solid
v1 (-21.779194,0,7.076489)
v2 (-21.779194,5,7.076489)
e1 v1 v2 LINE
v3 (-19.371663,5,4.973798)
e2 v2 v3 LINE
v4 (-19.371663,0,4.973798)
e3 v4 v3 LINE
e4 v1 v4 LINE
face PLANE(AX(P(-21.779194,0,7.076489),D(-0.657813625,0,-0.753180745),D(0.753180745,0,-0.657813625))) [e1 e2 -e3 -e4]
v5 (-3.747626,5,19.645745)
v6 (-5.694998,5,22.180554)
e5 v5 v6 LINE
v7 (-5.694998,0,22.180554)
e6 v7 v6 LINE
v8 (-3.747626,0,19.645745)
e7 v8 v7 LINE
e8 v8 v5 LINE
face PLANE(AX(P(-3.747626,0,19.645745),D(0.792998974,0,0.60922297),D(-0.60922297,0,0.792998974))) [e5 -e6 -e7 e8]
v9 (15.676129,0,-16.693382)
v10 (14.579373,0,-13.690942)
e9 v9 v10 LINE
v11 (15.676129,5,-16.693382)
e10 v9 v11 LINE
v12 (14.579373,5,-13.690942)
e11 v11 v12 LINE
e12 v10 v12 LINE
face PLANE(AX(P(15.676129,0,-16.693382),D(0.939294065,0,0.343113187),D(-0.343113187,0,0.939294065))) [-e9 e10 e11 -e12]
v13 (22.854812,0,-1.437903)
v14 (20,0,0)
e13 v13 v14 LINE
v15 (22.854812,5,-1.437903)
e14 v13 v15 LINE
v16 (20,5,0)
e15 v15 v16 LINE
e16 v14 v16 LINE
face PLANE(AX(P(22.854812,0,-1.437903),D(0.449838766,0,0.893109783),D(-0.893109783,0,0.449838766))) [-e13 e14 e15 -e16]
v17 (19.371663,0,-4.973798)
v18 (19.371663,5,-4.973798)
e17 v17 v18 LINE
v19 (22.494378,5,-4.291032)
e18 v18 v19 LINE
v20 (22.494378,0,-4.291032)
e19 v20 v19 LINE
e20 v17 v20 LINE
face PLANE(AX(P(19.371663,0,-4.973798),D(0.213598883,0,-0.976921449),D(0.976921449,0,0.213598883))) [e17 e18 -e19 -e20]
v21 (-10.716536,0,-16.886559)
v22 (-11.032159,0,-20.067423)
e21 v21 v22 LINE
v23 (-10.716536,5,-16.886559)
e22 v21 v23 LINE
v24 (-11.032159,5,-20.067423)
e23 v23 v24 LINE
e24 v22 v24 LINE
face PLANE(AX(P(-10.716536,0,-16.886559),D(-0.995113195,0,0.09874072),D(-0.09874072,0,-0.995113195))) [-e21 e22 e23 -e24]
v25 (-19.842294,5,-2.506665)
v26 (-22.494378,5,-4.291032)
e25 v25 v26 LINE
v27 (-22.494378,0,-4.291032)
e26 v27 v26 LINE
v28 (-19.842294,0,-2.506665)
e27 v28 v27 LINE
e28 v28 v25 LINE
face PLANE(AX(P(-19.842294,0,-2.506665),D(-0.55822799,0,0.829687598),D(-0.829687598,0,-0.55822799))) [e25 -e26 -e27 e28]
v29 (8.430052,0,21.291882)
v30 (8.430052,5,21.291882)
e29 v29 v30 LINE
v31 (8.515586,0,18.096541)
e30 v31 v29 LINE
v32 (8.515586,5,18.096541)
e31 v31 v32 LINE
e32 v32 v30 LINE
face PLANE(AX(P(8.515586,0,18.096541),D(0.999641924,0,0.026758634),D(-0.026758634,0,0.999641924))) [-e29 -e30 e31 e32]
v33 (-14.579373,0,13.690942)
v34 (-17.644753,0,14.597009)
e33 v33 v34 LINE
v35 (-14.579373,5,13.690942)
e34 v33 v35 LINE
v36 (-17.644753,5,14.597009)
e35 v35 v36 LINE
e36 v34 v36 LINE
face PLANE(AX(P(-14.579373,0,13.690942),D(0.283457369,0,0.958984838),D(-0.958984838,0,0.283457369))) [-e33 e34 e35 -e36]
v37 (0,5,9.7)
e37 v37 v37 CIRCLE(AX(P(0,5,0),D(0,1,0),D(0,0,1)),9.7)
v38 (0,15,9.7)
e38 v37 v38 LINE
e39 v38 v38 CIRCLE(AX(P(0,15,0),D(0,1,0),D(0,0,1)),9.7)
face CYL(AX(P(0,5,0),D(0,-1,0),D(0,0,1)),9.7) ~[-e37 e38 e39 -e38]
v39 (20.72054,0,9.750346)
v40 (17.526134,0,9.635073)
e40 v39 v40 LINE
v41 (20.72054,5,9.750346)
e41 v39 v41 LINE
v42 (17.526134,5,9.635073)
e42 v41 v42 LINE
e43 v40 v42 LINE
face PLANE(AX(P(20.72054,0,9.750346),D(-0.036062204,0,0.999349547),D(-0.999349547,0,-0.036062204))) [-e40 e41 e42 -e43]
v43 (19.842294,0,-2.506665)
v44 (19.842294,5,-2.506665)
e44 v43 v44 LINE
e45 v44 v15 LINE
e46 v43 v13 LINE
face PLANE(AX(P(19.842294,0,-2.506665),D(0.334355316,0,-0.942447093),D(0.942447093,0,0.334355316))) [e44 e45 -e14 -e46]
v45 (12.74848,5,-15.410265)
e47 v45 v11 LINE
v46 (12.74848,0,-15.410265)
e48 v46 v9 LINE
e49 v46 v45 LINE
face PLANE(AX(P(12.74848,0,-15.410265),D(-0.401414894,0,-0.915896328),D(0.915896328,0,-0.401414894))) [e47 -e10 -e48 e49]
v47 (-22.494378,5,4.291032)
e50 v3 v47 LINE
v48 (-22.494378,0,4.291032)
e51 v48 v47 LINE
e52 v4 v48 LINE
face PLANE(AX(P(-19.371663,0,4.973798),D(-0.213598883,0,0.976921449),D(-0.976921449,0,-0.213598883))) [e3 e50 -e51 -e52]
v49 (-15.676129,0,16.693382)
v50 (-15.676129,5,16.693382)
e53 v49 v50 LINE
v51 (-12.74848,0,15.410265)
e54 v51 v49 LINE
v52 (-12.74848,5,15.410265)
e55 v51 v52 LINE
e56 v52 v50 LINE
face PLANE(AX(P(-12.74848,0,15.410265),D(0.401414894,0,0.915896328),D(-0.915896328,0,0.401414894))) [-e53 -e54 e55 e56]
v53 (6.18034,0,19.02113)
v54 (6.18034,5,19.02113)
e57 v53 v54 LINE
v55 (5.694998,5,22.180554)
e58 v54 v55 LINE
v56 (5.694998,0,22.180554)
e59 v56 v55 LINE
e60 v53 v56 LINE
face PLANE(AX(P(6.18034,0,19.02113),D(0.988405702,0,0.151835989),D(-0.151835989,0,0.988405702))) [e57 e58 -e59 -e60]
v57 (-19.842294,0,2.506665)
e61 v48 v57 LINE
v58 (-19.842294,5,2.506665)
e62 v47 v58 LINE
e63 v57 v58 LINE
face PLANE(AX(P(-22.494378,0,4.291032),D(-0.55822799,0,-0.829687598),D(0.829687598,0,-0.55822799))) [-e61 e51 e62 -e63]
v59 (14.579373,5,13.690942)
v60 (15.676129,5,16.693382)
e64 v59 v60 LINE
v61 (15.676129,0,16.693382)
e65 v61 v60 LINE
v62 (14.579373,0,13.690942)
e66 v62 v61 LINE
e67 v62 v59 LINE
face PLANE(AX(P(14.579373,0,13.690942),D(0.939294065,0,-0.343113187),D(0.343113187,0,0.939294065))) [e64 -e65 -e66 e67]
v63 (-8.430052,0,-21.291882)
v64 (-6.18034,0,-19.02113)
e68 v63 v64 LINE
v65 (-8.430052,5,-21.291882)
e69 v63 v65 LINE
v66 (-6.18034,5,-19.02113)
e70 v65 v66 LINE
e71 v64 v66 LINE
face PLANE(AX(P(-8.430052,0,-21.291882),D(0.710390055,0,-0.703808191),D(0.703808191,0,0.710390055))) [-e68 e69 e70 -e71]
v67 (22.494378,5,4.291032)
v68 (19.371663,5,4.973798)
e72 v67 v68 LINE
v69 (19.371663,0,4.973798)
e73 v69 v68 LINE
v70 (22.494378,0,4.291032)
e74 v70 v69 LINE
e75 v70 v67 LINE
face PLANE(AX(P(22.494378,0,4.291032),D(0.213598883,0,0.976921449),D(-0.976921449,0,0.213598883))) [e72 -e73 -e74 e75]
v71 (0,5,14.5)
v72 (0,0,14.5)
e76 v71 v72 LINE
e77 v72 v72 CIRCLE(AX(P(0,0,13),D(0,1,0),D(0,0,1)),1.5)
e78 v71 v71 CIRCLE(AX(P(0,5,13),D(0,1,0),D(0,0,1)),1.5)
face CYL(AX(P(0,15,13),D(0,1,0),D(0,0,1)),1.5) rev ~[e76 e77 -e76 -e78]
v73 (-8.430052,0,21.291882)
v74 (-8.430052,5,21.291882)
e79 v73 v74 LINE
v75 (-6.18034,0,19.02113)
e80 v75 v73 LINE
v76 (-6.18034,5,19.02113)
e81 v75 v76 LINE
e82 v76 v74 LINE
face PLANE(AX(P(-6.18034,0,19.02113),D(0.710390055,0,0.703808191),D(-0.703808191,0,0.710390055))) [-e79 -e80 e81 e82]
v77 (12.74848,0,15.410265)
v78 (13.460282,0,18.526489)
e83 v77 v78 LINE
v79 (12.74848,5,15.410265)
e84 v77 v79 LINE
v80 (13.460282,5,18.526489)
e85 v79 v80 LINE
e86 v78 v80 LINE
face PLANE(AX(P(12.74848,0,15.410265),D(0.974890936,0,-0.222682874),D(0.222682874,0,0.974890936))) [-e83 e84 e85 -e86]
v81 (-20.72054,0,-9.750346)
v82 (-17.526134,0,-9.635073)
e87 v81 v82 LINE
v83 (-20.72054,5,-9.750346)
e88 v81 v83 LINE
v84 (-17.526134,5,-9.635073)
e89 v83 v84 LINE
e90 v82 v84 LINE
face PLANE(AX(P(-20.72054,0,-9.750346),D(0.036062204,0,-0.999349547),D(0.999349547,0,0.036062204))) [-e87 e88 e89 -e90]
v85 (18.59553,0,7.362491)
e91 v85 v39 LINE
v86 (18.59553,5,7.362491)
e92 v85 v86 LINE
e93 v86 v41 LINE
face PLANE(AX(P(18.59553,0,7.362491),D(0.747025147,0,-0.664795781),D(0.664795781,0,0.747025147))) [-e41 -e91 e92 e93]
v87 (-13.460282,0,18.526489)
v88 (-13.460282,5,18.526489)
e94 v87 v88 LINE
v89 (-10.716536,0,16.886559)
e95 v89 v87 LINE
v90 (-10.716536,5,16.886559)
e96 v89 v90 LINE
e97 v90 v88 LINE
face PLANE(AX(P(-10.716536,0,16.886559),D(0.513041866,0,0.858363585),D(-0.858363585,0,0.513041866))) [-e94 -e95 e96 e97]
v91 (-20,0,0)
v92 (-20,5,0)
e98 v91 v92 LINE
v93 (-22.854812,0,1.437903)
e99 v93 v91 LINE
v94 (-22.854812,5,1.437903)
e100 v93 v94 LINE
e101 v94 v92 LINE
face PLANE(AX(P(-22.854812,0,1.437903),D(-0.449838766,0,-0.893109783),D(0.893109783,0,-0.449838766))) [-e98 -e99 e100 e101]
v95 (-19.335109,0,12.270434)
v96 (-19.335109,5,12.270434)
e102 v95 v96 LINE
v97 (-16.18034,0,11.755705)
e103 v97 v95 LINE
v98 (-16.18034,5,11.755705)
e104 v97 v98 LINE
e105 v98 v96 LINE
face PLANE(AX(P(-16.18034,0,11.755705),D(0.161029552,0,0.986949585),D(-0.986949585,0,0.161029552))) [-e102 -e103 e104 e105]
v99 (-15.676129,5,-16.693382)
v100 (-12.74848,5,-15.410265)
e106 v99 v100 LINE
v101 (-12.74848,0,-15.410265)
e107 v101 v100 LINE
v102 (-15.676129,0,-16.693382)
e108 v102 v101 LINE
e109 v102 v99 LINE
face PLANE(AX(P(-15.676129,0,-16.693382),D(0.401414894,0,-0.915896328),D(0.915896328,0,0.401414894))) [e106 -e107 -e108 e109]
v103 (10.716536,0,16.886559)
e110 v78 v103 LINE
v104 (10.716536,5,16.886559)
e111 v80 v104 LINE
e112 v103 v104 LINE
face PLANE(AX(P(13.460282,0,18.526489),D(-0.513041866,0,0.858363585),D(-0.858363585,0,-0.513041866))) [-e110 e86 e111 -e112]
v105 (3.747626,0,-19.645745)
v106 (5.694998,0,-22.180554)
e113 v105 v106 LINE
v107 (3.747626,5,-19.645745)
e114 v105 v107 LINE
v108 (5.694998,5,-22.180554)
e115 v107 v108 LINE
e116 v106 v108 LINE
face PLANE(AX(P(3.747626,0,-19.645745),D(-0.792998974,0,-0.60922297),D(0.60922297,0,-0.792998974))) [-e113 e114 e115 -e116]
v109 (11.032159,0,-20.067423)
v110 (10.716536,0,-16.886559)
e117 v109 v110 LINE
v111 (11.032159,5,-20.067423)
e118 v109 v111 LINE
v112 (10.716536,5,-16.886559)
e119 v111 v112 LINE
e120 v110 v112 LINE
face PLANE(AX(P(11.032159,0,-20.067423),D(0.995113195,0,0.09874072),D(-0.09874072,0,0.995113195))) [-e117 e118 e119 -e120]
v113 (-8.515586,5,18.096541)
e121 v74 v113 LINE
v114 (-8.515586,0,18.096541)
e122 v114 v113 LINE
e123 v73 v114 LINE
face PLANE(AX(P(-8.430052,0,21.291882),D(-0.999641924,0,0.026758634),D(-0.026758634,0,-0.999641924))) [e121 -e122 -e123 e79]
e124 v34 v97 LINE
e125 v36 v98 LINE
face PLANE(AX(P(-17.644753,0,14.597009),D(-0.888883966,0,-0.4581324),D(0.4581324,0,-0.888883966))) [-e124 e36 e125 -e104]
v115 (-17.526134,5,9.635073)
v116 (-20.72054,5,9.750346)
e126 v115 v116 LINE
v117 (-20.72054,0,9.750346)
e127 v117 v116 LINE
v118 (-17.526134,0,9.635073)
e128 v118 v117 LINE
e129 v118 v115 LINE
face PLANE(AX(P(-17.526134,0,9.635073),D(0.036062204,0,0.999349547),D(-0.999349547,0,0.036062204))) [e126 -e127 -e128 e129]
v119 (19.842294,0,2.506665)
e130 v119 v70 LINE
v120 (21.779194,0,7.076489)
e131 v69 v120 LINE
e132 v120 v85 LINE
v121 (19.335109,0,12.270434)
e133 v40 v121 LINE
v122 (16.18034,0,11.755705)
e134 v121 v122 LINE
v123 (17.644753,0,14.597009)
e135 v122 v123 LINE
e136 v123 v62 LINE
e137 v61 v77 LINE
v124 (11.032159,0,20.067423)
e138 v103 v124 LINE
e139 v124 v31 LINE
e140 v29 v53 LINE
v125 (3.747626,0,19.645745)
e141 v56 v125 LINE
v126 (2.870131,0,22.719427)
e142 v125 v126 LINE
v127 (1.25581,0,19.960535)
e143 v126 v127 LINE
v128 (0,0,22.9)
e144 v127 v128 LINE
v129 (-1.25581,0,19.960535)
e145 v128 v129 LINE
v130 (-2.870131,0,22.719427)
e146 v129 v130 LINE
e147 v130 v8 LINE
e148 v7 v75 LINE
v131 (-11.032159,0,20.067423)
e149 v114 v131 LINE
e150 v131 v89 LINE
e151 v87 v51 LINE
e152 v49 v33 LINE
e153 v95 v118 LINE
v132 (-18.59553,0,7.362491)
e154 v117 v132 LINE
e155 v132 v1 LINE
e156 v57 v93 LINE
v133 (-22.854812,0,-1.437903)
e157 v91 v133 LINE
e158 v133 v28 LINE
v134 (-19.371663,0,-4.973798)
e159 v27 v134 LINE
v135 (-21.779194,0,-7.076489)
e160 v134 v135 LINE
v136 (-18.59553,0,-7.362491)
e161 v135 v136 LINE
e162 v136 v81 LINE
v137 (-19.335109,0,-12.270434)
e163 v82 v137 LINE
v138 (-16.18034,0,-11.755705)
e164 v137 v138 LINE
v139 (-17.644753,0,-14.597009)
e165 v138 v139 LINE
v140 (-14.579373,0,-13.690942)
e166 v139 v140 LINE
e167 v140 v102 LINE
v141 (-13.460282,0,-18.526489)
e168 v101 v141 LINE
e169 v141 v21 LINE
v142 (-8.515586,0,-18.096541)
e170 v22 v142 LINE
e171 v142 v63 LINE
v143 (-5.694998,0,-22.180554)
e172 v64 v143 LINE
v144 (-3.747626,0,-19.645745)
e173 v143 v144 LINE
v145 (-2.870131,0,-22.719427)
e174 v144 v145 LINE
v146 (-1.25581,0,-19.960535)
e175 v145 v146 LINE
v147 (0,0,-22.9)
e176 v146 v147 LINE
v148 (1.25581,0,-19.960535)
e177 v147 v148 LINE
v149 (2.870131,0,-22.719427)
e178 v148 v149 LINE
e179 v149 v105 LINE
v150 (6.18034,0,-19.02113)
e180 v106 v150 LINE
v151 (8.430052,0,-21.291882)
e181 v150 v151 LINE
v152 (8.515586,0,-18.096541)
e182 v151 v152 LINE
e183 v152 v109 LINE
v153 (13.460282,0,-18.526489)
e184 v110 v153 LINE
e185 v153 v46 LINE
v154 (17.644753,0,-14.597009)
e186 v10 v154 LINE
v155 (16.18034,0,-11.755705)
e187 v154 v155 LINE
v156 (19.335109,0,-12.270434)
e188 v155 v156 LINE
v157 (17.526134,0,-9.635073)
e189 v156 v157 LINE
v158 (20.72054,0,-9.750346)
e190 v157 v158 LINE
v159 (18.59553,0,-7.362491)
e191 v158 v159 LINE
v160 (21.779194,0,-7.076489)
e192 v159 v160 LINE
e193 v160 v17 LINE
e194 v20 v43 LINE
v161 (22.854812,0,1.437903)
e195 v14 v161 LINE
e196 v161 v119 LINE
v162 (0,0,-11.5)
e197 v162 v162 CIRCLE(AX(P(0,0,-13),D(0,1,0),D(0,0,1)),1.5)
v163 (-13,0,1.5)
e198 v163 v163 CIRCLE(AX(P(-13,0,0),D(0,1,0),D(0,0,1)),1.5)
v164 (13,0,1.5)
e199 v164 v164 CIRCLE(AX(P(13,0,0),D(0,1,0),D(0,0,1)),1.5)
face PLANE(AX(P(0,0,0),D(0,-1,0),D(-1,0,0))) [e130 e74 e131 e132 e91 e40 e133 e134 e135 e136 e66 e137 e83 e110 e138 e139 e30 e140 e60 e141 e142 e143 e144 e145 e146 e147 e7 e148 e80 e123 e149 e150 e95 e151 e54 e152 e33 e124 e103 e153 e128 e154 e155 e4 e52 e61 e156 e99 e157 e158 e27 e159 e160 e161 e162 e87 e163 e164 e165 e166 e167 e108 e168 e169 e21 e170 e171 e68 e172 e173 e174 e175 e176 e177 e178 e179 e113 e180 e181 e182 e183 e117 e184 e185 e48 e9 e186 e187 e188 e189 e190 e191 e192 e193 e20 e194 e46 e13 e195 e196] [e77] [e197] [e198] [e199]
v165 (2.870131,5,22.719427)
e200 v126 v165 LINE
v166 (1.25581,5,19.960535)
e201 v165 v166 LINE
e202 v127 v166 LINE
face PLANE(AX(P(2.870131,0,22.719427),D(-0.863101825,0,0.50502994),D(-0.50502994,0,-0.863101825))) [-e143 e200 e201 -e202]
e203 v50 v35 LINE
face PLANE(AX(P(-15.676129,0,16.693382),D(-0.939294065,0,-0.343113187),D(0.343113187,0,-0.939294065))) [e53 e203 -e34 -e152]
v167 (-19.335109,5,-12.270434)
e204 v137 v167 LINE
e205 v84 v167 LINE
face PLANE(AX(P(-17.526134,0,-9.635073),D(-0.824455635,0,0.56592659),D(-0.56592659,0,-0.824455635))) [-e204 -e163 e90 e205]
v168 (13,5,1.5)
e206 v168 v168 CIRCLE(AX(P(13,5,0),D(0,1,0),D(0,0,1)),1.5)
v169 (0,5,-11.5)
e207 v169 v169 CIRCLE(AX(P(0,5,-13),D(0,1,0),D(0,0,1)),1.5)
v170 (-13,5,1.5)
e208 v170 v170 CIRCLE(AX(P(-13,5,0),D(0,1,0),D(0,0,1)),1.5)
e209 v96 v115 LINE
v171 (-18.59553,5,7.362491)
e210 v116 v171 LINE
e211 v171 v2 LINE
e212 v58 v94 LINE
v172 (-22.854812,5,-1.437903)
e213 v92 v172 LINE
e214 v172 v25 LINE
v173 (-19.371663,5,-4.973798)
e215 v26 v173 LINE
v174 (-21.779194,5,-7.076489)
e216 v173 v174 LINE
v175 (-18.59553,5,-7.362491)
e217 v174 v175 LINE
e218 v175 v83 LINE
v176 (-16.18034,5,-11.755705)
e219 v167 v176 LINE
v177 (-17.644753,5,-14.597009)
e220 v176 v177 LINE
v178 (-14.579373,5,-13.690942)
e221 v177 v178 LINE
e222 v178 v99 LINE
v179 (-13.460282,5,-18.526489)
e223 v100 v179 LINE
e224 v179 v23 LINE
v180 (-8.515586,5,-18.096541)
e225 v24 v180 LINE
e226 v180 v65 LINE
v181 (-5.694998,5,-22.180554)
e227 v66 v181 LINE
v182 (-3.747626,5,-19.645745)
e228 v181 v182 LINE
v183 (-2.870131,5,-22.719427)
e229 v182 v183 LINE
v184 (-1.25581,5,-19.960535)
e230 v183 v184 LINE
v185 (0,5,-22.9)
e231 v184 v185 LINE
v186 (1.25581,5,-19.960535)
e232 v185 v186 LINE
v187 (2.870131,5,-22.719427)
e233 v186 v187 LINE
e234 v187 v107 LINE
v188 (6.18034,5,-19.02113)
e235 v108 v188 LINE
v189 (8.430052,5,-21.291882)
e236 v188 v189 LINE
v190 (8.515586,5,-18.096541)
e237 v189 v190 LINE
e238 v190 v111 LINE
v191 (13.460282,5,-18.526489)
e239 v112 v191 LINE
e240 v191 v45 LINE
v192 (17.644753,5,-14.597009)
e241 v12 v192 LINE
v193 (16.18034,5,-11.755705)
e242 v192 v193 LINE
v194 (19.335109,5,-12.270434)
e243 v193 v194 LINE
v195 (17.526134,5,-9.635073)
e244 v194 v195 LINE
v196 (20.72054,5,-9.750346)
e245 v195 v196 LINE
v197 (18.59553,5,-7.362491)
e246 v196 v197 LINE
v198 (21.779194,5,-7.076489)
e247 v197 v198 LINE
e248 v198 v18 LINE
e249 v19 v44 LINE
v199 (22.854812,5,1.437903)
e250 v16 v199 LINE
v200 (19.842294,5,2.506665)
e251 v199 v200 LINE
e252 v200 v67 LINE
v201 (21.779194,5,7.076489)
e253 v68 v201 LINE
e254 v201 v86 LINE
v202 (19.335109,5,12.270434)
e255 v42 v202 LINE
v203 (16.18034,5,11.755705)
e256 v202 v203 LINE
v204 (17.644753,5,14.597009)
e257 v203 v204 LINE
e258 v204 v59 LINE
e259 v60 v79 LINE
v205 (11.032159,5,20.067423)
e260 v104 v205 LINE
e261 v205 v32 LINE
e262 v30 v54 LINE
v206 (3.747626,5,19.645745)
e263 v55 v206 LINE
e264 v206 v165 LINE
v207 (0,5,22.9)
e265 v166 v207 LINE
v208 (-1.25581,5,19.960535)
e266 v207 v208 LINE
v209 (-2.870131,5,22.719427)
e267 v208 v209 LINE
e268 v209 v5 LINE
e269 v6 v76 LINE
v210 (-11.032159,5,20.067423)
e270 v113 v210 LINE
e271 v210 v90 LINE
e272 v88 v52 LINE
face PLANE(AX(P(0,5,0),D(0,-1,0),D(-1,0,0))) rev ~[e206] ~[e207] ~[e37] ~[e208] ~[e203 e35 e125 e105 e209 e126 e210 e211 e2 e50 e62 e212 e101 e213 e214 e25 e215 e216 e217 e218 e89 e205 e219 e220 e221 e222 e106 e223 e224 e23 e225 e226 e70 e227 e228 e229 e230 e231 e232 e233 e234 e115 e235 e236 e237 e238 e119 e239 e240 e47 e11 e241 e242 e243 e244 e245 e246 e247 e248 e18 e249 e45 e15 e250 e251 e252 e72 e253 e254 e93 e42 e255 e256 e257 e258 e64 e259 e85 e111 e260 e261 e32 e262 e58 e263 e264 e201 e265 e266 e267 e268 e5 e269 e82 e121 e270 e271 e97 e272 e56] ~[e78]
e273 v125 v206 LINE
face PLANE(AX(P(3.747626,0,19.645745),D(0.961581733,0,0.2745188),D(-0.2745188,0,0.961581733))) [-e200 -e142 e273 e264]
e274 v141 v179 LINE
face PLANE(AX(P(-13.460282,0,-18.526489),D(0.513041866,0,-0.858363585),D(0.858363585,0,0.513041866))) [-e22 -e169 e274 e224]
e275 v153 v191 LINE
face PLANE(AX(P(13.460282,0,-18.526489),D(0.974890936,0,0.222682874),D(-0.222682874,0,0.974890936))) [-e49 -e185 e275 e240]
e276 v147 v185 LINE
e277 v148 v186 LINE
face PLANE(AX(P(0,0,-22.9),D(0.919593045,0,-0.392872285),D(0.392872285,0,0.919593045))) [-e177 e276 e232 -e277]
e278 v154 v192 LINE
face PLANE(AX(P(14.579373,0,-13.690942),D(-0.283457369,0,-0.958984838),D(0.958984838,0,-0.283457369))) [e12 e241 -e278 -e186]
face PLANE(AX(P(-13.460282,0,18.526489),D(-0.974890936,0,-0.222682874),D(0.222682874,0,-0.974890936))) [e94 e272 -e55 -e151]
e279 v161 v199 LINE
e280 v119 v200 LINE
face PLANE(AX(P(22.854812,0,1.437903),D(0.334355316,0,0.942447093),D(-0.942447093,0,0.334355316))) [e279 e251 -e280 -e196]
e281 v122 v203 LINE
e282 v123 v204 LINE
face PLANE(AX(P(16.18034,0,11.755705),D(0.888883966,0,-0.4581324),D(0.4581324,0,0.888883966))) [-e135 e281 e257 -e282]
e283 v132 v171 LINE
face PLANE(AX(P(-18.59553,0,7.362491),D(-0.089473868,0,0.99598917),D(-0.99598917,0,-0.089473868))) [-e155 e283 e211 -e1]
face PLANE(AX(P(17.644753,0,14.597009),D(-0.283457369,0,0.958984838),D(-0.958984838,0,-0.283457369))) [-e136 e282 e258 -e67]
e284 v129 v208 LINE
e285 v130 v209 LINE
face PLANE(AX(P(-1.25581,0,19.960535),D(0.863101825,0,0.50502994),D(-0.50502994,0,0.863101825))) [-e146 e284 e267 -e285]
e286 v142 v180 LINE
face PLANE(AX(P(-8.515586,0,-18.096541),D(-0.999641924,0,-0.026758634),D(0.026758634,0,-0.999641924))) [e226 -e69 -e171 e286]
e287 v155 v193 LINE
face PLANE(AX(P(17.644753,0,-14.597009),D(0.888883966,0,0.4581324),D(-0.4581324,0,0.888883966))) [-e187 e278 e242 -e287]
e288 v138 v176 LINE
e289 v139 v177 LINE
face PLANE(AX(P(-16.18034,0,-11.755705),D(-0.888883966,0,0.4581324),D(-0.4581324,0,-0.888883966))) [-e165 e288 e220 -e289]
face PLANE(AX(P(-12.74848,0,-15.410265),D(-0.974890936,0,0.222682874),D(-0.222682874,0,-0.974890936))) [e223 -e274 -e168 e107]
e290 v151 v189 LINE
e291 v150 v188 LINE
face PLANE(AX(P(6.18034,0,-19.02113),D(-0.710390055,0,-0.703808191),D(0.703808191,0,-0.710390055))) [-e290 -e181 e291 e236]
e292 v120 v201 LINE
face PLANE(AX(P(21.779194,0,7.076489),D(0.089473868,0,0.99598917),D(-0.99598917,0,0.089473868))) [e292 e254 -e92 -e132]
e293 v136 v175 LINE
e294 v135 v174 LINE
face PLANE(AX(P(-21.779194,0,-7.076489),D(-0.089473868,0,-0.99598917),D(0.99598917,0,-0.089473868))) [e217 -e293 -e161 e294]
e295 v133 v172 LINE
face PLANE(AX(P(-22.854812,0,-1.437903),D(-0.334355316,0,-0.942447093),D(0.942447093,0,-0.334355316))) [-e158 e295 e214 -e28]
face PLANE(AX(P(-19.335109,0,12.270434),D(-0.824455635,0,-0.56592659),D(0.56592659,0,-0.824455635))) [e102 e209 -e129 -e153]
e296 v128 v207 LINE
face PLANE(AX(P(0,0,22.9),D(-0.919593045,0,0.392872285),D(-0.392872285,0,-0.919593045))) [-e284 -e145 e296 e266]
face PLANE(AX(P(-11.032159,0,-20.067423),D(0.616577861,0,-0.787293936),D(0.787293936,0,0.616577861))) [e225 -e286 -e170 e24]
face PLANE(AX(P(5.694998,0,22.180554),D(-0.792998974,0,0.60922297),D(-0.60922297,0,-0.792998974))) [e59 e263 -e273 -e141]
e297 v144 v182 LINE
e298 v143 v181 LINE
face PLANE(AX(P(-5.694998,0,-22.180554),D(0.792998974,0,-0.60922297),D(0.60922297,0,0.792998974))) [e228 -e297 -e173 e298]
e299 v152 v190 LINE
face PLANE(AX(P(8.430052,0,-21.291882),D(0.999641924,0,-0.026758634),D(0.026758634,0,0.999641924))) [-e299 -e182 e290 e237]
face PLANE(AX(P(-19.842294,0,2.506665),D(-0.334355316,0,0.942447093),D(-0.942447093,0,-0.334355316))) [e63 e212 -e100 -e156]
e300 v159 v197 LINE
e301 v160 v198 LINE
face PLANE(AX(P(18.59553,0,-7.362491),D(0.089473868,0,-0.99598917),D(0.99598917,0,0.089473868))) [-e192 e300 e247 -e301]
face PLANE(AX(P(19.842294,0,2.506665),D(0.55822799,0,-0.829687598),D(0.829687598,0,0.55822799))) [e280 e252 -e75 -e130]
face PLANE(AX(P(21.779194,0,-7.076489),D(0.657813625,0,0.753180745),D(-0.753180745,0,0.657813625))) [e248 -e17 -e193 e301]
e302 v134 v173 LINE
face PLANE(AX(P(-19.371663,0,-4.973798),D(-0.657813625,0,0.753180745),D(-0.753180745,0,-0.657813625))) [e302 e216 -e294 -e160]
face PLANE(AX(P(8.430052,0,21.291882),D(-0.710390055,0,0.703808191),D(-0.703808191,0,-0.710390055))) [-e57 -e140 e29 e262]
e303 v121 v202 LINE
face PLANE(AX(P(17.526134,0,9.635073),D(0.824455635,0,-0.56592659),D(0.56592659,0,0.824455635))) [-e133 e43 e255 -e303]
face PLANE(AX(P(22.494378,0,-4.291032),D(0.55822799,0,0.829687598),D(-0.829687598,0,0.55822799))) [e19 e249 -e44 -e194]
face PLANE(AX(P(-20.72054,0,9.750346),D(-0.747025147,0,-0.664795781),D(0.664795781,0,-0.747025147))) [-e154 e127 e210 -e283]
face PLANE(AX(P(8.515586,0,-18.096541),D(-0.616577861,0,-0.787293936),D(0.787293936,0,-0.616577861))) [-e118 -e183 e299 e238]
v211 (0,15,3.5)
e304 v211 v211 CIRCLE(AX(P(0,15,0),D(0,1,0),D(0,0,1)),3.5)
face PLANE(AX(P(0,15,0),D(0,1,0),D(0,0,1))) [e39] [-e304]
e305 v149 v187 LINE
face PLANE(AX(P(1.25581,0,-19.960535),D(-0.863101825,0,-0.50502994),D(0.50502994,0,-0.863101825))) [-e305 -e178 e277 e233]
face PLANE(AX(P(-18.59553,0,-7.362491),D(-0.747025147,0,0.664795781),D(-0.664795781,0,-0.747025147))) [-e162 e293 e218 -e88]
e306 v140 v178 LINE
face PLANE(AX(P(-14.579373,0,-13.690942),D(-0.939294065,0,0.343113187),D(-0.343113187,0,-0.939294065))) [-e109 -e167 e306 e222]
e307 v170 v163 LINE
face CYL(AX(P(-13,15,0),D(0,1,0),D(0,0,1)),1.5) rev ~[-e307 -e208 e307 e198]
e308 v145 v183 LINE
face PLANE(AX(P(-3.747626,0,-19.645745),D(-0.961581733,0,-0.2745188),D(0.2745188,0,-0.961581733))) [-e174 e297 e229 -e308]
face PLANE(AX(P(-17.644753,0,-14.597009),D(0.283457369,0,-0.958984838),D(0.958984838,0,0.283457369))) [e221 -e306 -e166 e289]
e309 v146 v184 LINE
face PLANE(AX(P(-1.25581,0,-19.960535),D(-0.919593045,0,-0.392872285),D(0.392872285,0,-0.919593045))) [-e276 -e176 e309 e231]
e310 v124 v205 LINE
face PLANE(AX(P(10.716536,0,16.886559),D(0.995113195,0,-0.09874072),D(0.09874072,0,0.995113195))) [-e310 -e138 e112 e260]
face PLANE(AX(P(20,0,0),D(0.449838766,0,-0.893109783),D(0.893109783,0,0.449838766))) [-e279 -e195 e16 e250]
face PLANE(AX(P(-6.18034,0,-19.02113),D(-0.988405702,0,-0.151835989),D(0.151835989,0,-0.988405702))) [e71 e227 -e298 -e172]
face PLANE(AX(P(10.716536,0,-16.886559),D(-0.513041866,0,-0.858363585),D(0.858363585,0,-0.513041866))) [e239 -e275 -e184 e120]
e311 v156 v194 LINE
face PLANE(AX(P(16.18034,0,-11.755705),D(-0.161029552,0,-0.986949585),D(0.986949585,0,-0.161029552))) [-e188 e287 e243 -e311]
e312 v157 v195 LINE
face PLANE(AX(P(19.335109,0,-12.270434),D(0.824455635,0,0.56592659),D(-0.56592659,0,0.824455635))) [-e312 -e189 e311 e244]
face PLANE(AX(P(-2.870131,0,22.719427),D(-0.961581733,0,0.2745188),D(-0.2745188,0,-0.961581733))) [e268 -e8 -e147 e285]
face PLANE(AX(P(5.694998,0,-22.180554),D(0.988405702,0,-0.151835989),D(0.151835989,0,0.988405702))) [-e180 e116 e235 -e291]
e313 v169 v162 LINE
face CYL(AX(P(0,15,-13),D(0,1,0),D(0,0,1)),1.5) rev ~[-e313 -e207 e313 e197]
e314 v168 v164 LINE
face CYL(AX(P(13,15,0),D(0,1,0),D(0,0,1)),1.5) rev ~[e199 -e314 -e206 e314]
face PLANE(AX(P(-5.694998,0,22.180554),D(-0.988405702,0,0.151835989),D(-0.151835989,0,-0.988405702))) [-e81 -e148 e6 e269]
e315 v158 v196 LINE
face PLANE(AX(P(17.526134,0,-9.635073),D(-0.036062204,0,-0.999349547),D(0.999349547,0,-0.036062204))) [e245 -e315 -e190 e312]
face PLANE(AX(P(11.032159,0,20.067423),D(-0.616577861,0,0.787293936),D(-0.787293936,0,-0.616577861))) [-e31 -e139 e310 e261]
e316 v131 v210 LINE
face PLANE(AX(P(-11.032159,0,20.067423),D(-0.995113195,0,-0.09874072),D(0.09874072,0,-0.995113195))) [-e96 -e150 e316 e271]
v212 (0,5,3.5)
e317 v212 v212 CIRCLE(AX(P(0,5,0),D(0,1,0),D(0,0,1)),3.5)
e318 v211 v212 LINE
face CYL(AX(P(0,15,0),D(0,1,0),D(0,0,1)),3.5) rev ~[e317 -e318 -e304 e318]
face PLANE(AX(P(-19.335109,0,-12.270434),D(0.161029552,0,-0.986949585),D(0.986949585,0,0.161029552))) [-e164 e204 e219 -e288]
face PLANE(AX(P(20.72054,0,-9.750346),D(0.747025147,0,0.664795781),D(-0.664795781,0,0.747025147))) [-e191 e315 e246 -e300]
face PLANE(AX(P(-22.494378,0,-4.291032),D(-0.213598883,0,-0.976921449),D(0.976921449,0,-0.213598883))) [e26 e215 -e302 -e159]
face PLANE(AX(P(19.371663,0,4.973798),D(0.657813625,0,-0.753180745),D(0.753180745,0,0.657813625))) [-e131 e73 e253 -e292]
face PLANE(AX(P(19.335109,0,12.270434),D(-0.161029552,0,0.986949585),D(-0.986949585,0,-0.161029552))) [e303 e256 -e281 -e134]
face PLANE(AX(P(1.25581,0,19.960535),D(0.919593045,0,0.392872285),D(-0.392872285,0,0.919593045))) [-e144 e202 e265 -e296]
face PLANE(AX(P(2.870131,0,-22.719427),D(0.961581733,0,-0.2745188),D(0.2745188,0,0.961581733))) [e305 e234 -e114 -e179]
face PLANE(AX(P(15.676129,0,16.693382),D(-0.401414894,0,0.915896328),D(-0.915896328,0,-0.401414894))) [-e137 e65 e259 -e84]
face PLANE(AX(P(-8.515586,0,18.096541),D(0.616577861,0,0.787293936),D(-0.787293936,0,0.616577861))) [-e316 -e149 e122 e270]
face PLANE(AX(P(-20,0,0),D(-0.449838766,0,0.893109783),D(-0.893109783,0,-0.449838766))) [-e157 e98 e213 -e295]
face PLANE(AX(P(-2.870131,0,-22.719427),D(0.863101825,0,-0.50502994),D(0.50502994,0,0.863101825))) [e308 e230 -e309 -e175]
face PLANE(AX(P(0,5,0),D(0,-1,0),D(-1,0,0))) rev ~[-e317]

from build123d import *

# Parameters (mm, degrees)
SKETCH_1_R          = 20
EXTRUDE_1_DEPTH     = 5
SKETCH_2_R          = 9.7
EXTRUDE_2_DEPTH     = 10
SKETCH_3_R          = 3.5
CUT_EXTRUDE_1_DEPTH = 15
SKETCH_6_R          = 1.5
CUT_EXTRUDE_2_DEPTH = 15
EXTRUDE_3_DEPTH     = 5
SKETCH_13_R         = 1.5
CUT_EXTRUDE_3_DEPTH = 36.661638146


with BuildPart() as part:
    # 草图1 → 凸台-拉伸1 (new body)
    with BuildSketch(Plane(origin=(0, 0, 0), x_dir=(1, 0, 0), z_dir=(0, 1, 0))):
        with Locations(Location((0, 0, 0), (0, 0, 270))):
            Circle(SKETCH_1_R)
    extrude(amount=EXTRUDE_1_DEPTH)

    # 草图2 → 凸台-拉伸2 (add)
    with BuildSketch(Plane(origin=(0, 5, 0), x_dir=(1, 0, 0), z_dir=(0, 1, 0))):
        with Locations(Location((0, 0, 0), (0, 0, 270))):
            Circle(SKETCH_2_R)
    extrude(amount=EXTRUDE_2_DEPTH)

    # 草图3 → 切除-拉伸1 (cut)
    with BuildSketch(Plane(origin=(0, 15, 0), x_dir=(1, 0, 0), z_dir=(0, 1, 0))):
        with Locations(Location((0, 0, 0), (0, 0, 270))):
            Circle(SKETCH_3_R)
    extrude(amount=-CUT_EXTRUDE_1_DEPTH, mode=Mode.SUBTRACT)

    # 草图6 → 切除-拉伸2 (cut)
    with BuildSketch(Plane(origin=(0, 5, 0), x_dir=(1, 0, 0), z_dir=(0, 1, 0))):
        with Locations(Location((-13, 0, 0), (0, 0, 270))):
            Circle(SKETCH_6_R)
        with Locations(Location((0, 13, 0), (0, 0, 270))):
            Circle(SKETCH_6_R)
        with Locations(Location((13, 0, 0), (0, 0, 270))):
            Circle(SKETCH_6_R)
        with Locations(Location((0, -13, 0), (0, 0, 270))):
            Circle(SKETCH_6_R)
    extrude(amount=-CUT_EXTRUDE_2_DEPTH, mode=Mode.SUBTRACT)

    # 草图12 → 凸台-拉伸3 (add)
    with BuildSketch(Plane(origin=(0, 0, 0), x_dir=(1, 0, 0), z_dir=(0, 1, 0))):
        Polygon((-1.255810391, 19.960534569), (0, 22.9), (1.255810391, 19.960534569), (2.870131049, 22.71942666), (3.747626292, 19.645745015), (5.694998416, 22.18055439), (6.180339887, 19.021130326), (8.430052256, 21.291881527), (8.515585831, 18.096541049), (11.032159137, 20.067422973), (10.7165359, 16.88655851), (13.460282277, 18.526489171), (12.748479795, 15.410264856), (15.676128726, 16.693381568), (14.579372548, 13.690942119), (17.64475326, 14.597009365), (16.180339887, 11.755705046), (19.335109494, 12.270433605), (17.526133601, 9.635073482), (20.720539501, 9.750345777), (18.595529718, 7.362491054), (21.779194223, 7.076489171), (19.371663223, 4.973797743), (22.494378042, 4.291032104), (19.842294026, 2.506664671), (22.854812081, 1.437902897), (20, 0), (22.854812081, -1.437902897), (19.842294026, -2.506664671), (22.494378042, -4.291032104), (19.371663223, -4.973797743), (21.779194223, -7.076489171), (18.595529718, -7.362491054), (20.720539501, -9.750345777), (17.526133601, -9.635073482), (19.335109494, -12.270433605), (16.180339887, -11.755705046), (17.64475326, -14.597009365), (14.579372548, -13.690942119), (15.676128726, -16.693381568), (12.748479795, -15.410264856), (13.460282277, -18.526489171), (10.7165359, -16.88655851), (11.032159137, -20.067422973), (8.515585831, -18.096541049), (8.430052256, -21.291881527), (6.180339887, -19.021130326), (5.694998416, -22.18055439), (3.747626292, -19.645745015), (2.870131049, -22.71942666), (1.255810391, -19.960534569), (0, -22.9), (-1.255810391, -19.960534569), (-2.870131049, -22.71942666), (-3.747626292, -19.645745015), (-5.694998416, -22.18055439), (-6.180339887, -19.021130326), (-8.430052256, -21.291881527), (-8.515585831, -18.096541049), (-11.032159137, -20.067422973), (-10.7165359, -16.88655851), (-13.460282277, -18.526489171), (-12.748479795, -15.410264856), (-15.676128726, -16.693381568), (-14.579372548, -13.690942119), (-17.64475326, -14.597009365), (-16.180339887, -11.755705046), (-19.335109494, -12.270433605), (-17.526133601, -9.635073482), (-20.720539501, -9.750345777), (-18.595529718, -7.362491054), (-21.779194223, -7.076489171), (-19.371663223, -4.973797743), (-22.494378042, -4.291032104), (-19.842294026, -2.506664671), (-22.854812081, -1.437902897), (-20, 0), (-22.854812081, 1.437902897), (-19.842294026, 2.506664671), (-22.494378042, 4.291032104), (-19.371663223, 4.973797743), (-21.779194223, 7.076489171), (-18.595529718, 7.362491054), (-20.720539501, 9.750345777), (-17.526133601, 9.635073482), (-19.335109494, 12.270433605), (-16.180339887, 11.755705046), (-17.64475326, 14.597009365), (-14.579372548, 13.690942119), (-15.676128726, 16.693381568), (-12.748479795, 15.410264856), (-13.460282277, 18.526489171), (-10.7165359, 16.88655851), (-11.032159137, 20.067422973), (-8.515585831, 18.096541049), (-8.430052256, 21.291881527), (-6.180339887, 19.021130326), (-5.694998416, 22.18055439), (-3.747626292, 19.645745015), (-2.870131049, 22.71942666), align=None)
    extrude(amount=EXTRUDE_3_DEPTH)

    # 草图13 → 切除-拉伸3 (cut, through all)
    with BuildSketch(Plane(origin=(0, 15, 0), x_dir=(1, 0, 0), z_dir=(0, 1, 0))):
        with Locations(Location((0, 13, 0), (0, 0, 270))):
            Circle(SKETCH_13_R)
        with Locations(Location((13, 0, 0), (0, 0, 270))):
            Circle(SKETCH_13_R)
        with Locations(Location((0, -13, 0), (0, 0, 270))):
            Circle(SKETCH_13_R)
        with Locations(Location((-13, 0, 0), (0, 0, 270))):
            Circle(SKETCH_13_R)
    extrude(amount=-CUT_EXTRUDE_3_DEPTH, mode=Mode.SUBTRACT)


solid = part.part
